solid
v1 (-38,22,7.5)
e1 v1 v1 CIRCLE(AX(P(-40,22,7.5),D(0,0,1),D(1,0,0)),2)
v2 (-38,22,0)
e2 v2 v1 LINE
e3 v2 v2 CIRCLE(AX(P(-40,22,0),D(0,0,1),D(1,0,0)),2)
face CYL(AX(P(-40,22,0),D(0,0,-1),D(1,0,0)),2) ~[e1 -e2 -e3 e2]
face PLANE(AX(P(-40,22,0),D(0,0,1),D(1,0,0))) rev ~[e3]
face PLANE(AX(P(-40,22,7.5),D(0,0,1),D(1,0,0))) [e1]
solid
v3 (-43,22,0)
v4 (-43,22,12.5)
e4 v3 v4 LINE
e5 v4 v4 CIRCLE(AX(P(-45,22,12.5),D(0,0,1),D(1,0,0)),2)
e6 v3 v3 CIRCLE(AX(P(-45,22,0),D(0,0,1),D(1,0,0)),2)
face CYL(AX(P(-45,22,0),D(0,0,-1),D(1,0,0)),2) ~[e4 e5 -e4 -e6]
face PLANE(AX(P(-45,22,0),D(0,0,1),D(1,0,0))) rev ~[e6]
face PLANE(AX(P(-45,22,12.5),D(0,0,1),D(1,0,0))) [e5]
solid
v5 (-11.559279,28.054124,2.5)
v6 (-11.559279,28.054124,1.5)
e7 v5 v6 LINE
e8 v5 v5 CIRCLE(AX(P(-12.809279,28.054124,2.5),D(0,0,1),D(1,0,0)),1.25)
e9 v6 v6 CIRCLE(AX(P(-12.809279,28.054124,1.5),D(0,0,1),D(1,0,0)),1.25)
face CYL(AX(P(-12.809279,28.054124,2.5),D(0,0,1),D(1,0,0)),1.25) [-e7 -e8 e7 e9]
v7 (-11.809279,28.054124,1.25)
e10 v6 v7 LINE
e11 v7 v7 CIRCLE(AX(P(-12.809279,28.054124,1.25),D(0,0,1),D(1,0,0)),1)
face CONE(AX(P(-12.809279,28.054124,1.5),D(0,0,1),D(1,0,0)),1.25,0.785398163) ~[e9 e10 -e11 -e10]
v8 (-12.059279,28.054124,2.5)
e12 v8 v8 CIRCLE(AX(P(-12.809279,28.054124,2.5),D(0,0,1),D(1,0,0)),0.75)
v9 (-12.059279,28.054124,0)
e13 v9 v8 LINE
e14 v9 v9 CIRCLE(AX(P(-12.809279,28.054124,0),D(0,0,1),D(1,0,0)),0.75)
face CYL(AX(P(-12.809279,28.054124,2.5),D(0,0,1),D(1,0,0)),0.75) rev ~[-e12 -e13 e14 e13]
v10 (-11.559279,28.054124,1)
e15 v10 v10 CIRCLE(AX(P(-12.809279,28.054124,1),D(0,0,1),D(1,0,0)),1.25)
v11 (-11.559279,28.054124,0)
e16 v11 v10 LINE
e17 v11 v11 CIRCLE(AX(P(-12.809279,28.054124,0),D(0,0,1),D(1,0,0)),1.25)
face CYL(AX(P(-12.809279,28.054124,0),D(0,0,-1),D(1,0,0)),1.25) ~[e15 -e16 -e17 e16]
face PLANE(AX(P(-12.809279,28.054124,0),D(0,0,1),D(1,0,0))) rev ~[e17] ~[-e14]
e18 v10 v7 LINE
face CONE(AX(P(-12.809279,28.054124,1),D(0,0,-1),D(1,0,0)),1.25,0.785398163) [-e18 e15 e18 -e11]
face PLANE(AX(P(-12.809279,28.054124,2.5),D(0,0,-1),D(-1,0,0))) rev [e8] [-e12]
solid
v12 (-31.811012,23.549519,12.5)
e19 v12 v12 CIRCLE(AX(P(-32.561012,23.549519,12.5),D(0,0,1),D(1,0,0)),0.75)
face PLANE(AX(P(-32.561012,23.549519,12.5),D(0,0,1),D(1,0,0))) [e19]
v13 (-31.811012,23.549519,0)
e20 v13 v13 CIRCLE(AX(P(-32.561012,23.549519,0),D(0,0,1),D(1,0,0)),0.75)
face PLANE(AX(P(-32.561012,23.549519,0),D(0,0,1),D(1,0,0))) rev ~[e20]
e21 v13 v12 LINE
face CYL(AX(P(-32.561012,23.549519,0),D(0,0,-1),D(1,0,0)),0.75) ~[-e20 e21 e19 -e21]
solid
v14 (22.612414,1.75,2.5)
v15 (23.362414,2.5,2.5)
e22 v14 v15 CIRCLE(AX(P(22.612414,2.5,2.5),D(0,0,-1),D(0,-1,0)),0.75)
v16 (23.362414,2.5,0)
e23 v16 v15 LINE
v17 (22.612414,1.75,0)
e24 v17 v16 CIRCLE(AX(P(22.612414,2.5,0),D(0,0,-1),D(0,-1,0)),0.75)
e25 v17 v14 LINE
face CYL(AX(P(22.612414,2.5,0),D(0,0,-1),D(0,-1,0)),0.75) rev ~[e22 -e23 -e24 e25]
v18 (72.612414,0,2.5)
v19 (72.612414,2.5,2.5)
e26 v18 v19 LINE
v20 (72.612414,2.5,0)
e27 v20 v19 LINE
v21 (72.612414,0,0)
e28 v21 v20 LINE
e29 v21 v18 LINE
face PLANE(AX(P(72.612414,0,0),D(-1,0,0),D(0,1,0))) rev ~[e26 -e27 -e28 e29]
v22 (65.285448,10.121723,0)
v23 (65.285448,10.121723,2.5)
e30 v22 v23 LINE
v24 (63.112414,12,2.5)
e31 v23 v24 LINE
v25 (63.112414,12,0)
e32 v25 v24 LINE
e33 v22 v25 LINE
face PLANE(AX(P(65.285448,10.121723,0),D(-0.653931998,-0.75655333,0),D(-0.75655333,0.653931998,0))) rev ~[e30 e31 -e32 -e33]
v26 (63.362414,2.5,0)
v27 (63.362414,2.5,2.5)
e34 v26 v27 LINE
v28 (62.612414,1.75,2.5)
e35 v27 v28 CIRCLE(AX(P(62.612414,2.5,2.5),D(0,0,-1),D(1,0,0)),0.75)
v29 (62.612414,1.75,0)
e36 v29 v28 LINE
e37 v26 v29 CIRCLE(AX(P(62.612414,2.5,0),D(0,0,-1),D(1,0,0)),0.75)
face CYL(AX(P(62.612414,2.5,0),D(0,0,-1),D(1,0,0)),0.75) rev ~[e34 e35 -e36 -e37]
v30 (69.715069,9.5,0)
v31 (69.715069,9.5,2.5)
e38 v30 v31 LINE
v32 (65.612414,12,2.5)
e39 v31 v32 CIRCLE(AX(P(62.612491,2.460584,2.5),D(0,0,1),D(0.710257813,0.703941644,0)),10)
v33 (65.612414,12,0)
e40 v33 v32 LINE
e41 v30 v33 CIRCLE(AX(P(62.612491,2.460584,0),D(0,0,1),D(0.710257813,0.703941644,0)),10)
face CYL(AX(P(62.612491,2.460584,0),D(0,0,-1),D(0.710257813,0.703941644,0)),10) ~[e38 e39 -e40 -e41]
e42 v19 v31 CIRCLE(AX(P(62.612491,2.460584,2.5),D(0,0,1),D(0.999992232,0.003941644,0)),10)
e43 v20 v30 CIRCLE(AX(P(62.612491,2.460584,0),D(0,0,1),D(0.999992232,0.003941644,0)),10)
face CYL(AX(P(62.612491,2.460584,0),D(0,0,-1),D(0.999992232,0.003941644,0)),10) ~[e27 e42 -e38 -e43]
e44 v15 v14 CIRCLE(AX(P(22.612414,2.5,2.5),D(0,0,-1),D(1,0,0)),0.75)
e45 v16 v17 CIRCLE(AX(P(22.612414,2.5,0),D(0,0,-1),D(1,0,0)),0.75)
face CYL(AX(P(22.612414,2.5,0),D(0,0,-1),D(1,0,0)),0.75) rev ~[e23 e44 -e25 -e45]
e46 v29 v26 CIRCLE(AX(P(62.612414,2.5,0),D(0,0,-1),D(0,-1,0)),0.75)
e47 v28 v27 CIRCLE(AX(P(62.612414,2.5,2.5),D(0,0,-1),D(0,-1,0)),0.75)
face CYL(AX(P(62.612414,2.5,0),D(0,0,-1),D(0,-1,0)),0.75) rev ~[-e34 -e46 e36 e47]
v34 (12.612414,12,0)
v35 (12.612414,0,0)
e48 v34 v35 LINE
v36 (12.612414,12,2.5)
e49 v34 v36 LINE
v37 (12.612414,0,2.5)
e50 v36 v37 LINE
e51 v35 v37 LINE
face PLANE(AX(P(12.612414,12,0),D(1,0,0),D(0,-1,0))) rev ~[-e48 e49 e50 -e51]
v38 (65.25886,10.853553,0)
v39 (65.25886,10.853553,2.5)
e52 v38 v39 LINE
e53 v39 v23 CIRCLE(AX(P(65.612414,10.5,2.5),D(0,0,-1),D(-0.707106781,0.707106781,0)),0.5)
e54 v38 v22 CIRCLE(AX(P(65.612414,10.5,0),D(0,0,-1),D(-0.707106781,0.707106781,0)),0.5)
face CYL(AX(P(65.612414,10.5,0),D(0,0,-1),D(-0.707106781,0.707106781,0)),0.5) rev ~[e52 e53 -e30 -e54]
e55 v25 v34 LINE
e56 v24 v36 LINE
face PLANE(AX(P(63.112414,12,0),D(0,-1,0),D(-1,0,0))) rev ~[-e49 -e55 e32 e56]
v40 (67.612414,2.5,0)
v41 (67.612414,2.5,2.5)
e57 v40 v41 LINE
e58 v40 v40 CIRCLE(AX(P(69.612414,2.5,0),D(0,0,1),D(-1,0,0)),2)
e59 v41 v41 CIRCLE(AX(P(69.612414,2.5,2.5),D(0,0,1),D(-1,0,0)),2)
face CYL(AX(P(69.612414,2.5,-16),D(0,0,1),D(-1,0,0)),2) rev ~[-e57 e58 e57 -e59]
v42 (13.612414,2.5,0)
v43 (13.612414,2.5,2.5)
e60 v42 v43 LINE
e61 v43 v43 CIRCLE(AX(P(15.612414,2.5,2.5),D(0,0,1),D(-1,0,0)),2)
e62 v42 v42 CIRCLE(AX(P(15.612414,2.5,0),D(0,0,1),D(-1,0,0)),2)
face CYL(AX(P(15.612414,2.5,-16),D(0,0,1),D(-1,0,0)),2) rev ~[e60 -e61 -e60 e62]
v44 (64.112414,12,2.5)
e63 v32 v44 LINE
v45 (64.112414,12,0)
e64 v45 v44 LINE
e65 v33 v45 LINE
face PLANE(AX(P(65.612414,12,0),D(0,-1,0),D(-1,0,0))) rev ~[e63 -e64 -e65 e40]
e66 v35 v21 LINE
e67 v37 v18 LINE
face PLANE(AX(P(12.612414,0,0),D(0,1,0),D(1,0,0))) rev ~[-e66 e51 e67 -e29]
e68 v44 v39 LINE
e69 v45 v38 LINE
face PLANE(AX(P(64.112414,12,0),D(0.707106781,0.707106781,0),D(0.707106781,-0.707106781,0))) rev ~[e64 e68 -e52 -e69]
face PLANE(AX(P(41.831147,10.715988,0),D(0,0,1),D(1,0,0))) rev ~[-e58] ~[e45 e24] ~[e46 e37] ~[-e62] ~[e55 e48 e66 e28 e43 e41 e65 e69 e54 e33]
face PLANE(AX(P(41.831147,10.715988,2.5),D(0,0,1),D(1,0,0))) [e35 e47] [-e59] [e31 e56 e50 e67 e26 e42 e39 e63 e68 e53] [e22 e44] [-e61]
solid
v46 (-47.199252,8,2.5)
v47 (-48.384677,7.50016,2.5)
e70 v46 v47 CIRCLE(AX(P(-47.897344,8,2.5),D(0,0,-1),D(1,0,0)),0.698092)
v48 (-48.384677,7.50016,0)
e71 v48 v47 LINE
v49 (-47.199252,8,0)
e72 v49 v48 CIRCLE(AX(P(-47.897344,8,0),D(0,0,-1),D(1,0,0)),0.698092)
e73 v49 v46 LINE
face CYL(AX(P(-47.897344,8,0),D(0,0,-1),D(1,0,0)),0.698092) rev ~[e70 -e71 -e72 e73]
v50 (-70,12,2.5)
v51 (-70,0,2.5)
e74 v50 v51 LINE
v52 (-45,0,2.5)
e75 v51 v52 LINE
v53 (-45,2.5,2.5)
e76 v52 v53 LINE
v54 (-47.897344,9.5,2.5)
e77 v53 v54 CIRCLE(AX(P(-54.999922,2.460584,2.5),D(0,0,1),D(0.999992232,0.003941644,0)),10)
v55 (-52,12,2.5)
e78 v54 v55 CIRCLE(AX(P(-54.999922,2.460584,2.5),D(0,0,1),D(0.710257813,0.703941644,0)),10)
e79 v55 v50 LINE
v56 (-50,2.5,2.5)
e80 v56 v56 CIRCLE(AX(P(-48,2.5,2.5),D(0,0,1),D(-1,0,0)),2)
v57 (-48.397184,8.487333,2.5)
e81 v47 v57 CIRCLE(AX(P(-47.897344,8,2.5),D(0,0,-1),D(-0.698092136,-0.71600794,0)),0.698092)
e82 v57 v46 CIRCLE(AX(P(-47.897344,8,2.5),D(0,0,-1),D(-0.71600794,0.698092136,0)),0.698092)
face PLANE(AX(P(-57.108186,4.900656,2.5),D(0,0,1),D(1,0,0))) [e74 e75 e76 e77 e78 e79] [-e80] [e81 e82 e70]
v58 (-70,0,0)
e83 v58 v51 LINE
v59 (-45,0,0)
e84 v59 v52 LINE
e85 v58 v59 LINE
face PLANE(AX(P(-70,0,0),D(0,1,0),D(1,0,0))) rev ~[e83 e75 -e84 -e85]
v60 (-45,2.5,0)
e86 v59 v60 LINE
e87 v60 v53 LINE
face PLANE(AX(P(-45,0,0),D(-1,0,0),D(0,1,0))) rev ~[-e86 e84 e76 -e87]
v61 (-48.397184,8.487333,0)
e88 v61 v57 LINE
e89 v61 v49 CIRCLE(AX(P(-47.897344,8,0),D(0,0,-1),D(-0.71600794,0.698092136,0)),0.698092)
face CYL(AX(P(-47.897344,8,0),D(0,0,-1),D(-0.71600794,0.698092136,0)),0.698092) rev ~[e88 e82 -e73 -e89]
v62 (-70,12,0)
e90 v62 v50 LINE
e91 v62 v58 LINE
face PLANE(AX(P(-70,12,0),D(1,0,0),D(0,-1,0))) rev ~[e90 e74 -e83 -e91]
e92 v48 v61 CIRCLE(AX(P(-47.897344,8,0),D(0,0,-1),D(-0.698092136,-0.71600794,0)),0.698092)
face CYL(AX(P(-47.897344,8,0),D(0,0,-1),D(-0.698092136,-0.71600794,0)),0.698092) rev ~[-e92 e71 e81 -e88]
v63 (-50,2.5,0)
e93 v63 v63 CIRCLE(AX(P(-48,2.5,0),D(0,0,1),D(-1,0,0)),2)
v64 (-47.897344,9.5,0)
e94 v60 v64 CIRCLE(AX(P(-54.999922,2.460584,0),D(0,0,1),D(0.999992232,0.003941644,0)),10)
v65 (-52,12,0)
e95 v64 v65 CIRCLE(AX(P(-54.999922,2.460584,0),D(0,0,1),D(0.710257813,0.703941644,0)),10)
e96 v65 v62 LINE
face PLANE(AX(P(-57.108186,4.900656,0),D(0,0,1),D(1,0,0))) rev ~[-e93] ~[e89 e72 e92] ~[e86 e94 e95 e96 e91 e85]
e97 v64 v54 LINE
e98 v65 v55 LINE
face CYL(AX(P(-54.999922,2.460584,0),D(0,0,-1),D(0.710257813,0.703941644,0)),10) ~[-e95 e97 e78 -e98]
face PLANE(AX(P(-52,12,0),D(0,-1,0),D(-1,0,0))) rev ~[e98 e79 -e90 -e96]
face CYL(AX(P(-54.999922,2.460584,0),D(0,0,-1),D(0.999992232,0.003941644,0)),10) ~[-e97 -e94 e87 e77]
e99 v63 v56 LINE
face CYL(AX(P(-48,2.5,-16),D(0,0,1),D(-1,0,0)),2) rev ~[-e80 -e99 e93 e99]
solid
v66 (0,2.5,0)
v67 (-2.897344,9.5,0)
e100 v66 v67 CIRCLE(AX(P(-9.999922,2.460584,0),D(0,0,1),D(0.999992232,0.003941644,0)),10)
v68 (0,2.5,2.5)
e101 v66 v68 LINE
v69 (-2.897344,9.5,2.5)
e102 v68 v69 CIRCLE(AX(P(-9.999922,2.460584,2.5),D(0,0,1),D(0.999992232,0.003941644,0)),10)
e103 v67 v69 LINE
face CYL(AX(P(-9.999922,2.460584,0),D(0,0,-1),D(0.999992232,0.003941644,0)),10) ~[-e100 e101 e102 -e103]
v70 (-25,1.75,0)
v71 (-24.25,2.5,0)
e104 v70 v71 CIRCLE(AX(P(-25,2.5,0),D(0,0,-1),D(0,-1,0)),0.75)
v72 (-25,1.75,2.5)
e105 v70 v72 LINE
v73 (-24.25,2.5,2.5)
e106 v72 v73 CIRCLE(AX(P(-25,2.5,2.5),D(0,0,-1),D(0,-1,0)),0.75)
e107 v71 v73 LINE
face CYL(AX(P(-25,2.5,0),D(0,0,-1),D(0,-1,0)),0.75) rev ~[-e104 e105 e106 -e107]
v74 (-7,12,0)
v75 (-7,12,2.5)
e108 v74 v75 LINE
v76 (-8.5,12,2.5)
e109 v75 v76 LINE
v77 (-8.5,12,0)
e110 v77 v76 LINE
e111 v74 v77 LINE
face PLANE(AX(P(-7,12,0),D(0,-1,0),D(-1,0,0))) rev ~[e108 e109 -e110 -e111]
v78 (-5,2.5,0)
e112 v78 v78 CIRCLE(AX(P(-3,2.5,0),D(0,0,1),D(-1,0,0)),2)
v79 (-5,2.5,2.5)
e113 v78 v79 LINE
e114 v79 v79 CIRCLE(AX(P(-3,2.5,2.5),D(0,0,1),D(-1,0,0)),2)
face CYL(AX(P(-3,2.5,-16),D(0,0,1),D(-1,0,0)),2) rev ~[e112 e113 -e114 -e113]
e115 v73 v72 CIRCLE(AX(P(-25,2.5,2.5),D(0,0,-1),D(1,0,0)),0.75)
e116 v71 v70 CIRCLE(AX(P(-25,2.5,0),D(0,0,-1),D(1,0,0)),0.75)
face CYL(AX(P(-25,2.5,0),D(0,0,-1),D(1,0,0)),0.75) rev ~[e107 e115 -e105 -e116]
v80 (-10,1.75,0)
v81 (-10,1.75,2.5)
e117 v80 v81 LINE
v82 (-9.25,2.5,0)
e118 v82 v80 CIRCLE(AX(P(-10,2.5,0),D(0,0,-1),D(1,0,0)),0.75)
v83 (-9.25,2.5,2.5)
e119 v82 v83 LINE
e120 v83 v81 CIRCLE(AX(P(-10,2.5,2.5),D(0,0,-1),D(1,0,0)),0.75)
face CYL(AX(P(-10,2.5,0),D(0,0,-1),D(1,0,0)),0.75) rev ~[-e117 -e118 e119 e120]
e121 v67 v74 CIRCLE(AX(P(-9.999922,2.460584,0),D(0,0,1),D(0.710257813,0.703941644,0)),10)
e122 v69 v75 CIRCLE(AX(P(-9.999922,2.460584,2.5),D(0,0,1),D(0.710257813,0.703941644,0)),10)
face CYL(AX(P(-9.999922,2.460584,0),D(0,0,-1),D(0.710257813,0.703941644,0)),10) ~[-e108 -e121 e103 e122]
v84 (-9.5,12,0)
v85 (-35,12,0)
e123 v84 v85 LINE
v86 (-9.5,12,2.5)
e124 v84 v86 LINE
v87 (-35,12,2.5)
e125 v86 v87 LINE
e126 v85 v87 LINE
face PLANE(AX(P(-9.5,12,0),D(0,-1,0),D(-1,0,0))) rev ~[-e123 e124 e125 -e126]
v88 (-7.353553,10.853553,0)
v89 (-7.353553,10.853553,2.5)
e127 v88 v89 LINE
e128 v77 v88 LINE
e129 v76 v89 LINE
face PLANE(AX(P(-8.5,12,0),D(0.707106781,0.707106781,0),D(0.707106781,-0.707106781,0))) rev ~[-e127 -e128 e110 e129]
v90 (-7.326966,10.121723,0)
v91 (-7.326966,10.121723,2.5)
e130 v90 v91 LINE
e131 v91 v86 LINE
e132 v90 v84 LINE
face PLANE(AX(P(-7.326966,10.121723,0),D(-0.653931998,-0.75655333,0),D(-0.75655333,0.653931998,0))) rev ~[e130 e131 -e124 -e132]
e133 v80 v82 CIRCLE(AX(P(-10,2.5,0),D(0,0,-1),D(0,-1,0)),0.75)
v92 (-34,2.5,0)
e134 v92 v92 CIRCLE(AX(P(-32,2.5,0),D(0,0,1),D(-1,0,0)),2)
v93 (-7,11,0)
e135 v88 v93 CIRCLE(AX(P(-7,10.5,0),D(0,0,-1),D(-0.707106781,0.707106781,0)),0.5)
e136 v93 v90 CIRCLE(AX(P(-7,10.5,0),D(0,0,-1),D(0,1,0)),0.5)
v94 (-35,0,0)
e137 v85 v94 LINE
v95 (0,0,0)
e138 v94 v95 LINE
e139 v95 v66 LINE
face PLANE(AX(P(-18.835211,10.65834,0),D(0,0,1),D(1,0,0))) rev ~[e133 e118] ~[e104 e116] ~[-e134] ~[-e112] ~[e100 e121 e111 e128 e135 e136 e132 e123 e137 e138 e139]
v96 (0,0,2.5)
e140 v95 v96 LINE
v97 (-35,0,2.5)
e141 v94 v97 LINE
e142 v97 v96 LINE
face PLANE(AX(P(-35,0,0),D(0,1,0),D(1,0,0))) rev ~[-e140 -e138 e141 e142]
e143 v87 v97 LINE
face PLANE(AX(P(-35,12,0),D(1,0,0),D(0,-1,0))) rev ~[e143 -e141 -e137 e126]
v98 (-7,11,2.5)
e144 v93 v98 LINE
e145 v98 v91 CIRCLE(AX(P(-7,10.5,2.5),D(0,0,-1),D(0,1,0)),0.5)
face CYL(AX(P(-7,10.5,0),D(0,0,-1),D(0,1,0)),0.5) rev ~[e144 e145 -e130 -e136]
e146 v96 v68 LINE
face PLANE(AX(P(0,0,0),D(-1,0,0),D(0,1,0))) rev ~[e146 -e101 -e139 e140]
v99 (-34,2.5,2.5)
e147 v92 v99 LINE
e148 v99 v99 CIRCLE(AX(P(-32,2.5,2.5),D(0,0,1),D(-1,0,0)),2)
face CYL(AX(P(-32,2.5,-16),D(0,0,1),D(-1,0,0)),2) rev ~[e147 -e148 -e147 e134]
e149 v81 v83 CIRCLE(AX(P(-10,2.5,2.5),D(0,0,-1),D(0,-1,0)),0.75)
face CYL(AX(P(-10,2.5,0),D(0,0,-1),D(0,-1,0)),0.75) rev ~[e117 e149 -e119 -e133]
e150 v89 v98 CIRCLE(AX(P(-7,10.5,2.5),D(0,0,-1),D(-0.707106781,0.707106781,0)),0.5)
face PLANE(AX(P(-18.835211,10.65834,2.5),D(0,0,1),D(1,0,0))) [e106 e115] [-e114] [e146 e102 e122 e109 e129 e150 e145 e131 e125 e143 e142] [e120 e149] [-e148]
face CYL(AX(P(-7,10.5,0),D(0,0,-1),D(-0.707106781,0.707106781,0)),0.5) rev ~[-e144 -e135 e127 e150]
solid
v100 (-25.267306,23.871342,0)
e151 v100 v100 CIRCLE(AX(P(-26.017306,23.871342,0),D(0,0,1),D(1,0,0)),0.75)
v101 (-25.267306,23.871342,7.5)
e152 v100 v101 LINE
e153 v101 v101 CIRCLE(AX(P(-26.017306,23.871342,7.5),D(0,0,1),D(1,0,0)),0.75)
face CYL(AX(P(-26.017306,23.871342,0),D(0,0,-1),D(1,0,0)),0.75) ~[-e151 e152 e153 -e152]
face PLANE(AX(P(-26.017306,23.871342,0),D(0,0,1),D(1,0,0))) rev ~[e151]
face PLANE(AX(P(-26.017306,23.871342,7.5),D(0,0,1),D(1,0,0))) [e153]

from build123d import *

# Parameters (mm, degrees)
F0_R       = 2
F1_DEPTH   = 2.5
F2_D       = 4
F2_DEPTH   = 16
F2_TIP     = 1.2017212381
F2_2_D     = 4
F2_2_DEPTH = 16
F2_2_TIP   = 1.2017212381
F2_3_D     = 4
F2_3_DEPTH = 16
F2_3_TIP   = 1.2017212381
F3_DEPTH   = 12.5
F4_R       = 0.75
F5_DEPTH   = 12.5
F6_DEPTH   = 7.5
F7_DEPTH   = 7.5
F8_R       = 1.25
F8_R_2     = 0.75
F9_DEPTH   = 1.25
F10_SIZE   = 0.25


with BuildPart() as f1:
    # F0 (on Top) → F1 (new body)
    with BuildSketch(Plane.XY):
        with BuildLine():
            Line((-70, 0), (-45, 0))
            Line((-45, 0), (-45, 2.5))
            ThreePointArc((-45, 2.5), (-45.7601235959, 6.2849945688), (-47.8973441844, 9.5))
            Line((-47.8973441844, 9.5), (-49.4358401153, 9.5))
            Line((-49.4358401153, 9.5), (-48.3971836964, 8.4873326298))
            ThreePointArc((-48.3971836964, 8.4873326298), (-47.6342865886, 8.6466322998), (-47.1992520488, 8))
            ThreePointArc((-47.1992520488, 8), (-47.6261159102, 7.356752106), (-48.3846768143, 7.500160488))
            Line((-48.3846768143, 7.500160488), (-50.4358401153, 9.5))
            Line((-50.4358401153, 9.5), (-70, 9.5))
            Line((-70, 9.5), (-70, 0))
        make_face()
        with Locations((-48, 2.5)):
            Circle(F0_R, mode=Mode.SUBTRACT)
        Polygon((-70, 12), (-70, 9.5), (-50.4358401153, 9.5), (-53, 12), align=None)
        with Locations((-48, 2.5)):
            Circle(F0_R)
        with BuildLine():
            Line((-49.4358401153, 9.5), (-47.8973441844, 9.5))
            ThreePointArc((-47.8973441844, 9.5), (-49.7963054178, 11.0000432091), (-52, 12))
            Line((-52, 12), (-49.4358401153, 9.5))
        make_face()
        Polygon((-53, 12), (-50.4358401153, 9.5), (-49.4358401153, 9.5), (-52, 12), align=None)
        with BuildLine():
            Line((-49.4358401153, 9.5), (-50.4358401153, 9.5))
            Line((-50.4358401153, 9.5), (-48.3846768143, 7.500160488))
            ThreePointArc((-48.3846768143, 7.500160488), (-48.5953803001, 7.9911562988), (-48.3971836964, 8.4873326298))
            Line((-48.3971836964, 8.4873326298), (-49.4358401153, 9.5))
        make_face()
    extrude(amount=F1_DEPTH)

    # F2
    with Locations(Plane(origin=(0, 0, 0), x_dir=(1, 0, 0), z_dir=(0, 0, -1))):
        with Locations((-3, -2.5), (69.612413615, -2.5), (-48, -2.5), (-32, -2.5), (15.612413615, -2.5)):
            Hole(F2_D / 2, depth=F2_DEPTH)
            with Locations((0, 0, -(F2_DEPTH + F2_TIP / 2))):  # 118° drill point
                Cone(0, F2_D / 2, F2_TIP, mode=Mode.SUBTRACT)


with BuildPart() as f1b:
    # F0 (on Top) → F1, piece 2 (new body)
    with BuildSketch(Plane.XY):
        with BuildLine():
            Line((12.612413615, 12), (12.612413615, 9.5))
            Line((12.612413615, 9.5), (69.7150694305, 9.5))
            ThreePointArc((69.7150694305, 9.5), (67.8161081972, 11.0000432091), (65.612413615, 12))
            Line((65.612413615, 12), (64.112413615, 12))
            Line((64.112413615, 12), (65.2588602244, 10.8535533906))
            ThreePointArc((65.2588602244, 10.8535533906), (66.1120839739, 10.5181530279), (65.2854476159, 10.1217233348))
            Line((65.2854476159, 10.1217233348), (63.112413615, 12))
            Line((63.112413615, 12), (12.612413615, 12))
        make_face()
        with BuildLine():
            Line((12.612413615, 2.5), (12.612413615, 0))
            Line((12.612413615, 0), (22.612413615, 0))
            Line((22.612413615, 0), (62.612413615, 0))
            Line((62.612413615, 0), (70, 0))
            Line((70, 0), (72.612413615, 0))
            Line((72.612413615, 0), (72.612413615, 2.5))
            ThreePointArc((72.612413615, 2.5), (71.8522900191, 6.2849945688), (69.7150694305, 9.5))
            Line((69.7150694305, 9.5), (12.612413615, 9.5))
            Line((12.612413615, 9.5), (12.612413615, 2.5))
        make_face()
        with BuildLine():
            ThreePointArc((17.612413615, 2.5), (15.612413615, 0.5), (13.612413615, 2.5))
            ThreePointArc((13.612413615, 2.5), (15.612413615, 4.5), (17.612413615, 2.5))
        make_face(mode=Mode.SUBTRACT)
        with BuildLine():
            ThreePointArc((23.362413615, 2.5), (23.1427437009, 1.9696699141), (22.612413615, 1.75))
            ThreePointArc((22.612413615, 1.75), (22.0820835291, 3.0303300859), (23.362413615, 2.5))
        make_face(mode=Mode.SUBTRACT)
        with BuildLine():
            ThreePointArc((63.362413615, 2.5), (63.1427437009, 1.9696699141), (62.612413615, 1.75))
            ThreePointArc((62.612413615, 1.75), (62.0820835291, 3.0303300859), (63.362413615, 2.5))
        make_face(mode=Mode.SUBTRACT)
        with Locations((69.612413615, 2.5)):
            Circle(F0_R, mode=Mode.SUBTRACT)
        with Locations((69.612413615, 2.5)):
            Circle(F0_R)
        with BuildLine():
            ThreePointArc((17.612413615, 2.5), (15.612413615, 4.5), (13.612413615, 2.5))
            ThreePointArc((13.612413615, 2.5), (15.612413615, 0.5), (17.612413615, 2.5))
        make_face()
    extrude(amount=F1_DEPTH)

    # F2#2
    with Locations(Plane(origin=(0, 0, 0), x_dir=(1, 0, 0), z_dir=(0, 0, -1))):
        with Locations((-3, -2.5), (69.612413615, -2.5), (-48, -2.5), (-32, -2.5), (15.612413615, -2.5)):
            Hole(F2_2_D / 2, depth=F2_2_DEPTH)
            with Locations((0, 0, -(F2_2_DEPTH + F2_2_TIP / 2))):  # 118° drill point
                Cone(0, F2_2_D / 2, F2_2_TIP, mode=Mode.SUBTRACT)


with BuildPart() as f1c:
    # F0 (on Top) → F1, piece 3 (new body)
    with BuildSketch(Plane.XY):
        with BuildLine():
            Line((-35, 9.5), (-2.8973441844, 9.5))
            ThreePointArc((-2.8973441844, 9.5), (-4.7963054178, 11.0000432091), (-7, 12))
            Line((-7, 12), (-7, 11))
            ThreePointArc((-7, 11), (-6.5314179194, 10.325555643), (-7.3269659991, 10.1217233348))
            Line((-7.3269659991, 10.1217233348), (-9.5, 12))
            Line((-9.5, 12), (-35, 12))
            Line((-35, 12), (-35, 9.5))
        make_face()
        with BuildLine():
            Line((-10, 0), (0, 0))
            Line((0, 0), (0, 2.5))
            ThreePointArc((0, 2.5), (-0.7601235959, 6.2849945688), (-2.8973441844, 9.5))
            Line((-2.8973441844, 9.5), (-35, 9.5))
            Line((-35, 9.5), (-35, 2.5))
            Line((-35, 2.5), (-35, 0))
            Line((-35, 0), (-25, 0))
            Line((-25, 0), (-10, 0))
        make_face()
        with BuildLine():
            ThreePointArc((-30, 2.5), (-32, 0.5), (-34, 2.5))
            ThreePointArc((-34, 2.5), (-32, 4.5), (-30, 2.5))
        make_face(mode=Mode.SUBTRACT)
        with BuildLine():
            ThreePointArc((-24.25, 2.5), (-24.4696699141, 1.9696699141), (-25, 1.75))
            ThreePointArc((-25, 1.75), (-25.5303300859, 3.0303300859), (-24.25, 2.5))
        make_face(mode=Mode.SUBTRACT)
        with BuildLine():
            ThreePointArc((-9.25, 2.5), (-9.4696699141, 1.9696699141), (-10, 1.75))
            ThreePointArc((-10, 1.75), (-10.5303300859, 3.0303300859), (-9.25, 2.5))
        make_face(mode=Mode.SUBTRACT)
        with Locations((-3, 2.5)):
            Circle(F0_R, mode=Mode.SUBTRACT)
        with Locations((-3, 2.5)):
            Circle(F0_R)
        with BuildLine():
            ThreePointArc((-30, 2.5), (-32, 4.5), (-34, 2.5))
            ThreePointArc((-34, 2.5), (-32, 0.5), (-30, 2.5))
        make_face()
        with BuildLine():
            Line((-7, 11), (-7, 12))
            Line((-7, 12), (-8.5, 12))
            Line((-8.5, 12), (-7.3535533906, 10.8535533906))
            ThreePointArc((-7.3535533906, 10.8535533906), (-7.1913417162, 10.9619397663), (-7, 11))
        make_face()
    extrude(amount=F1_DEPTH)

    # F2#3
    with Locations(Plane(origin=(0, 0, 0), x_dir=(1, 0, 0), z_dir=(0, 0, -1))):
        with Locations((-3, -2.5), (69.612413615, -2.5), (-48, -2.5), (-32, -2.5), (15.612413615, -2.5)):
            Hole(F2_3_D / 2, depth=F2_3_DEPTH)
            with Locations((0, 0, -(F2_3_DEPTH + F2_3_TIP / 2))):  # 118° drill point
                Cone(0, F2_3_D / 2, F2_3_TIP, mode=Mode.SUBTRACT)


with BuildPart() as f3:
    # F0 (on Top) → F3 (new body)
    with BuildSketch(Plane.XY):
        with Locations((-45, 22)):
            Circle(F0_R)
    extrude(amount=F3_DEPTH)


with BuildPart() as f5:
    # F4 (on Top) → F5 (new body)
    with BuildSketch(Plane.XY):
        with Locations((-32.5610116124, 23.5495194793)):
            Circle(F4_R)
    extrude(amount=F5_DEPTH)


with BuildPart() as f6:
    # F4 (on Top) → F6 (new body)
    with BuildSketch(Plane.XY):
        with Locations((-26.0173063725, 23.8713417202)):
            Circle(F4_R)
    extrude(amount=F6_DEPTH)


with BuildPart() as f7:
    # F0 (on Top) → F7 (new body)
    with BuildSketch(Plane.XY):
        with Locations((-40, 22)):
            Circle(F0_R)
    extrude(amount=F7_DEPTH)


with BuildPart() as f9:
    # F8 (on Top) → F9 (new body)
    with BuildSketch(Plane.XY):
        with Locations((-12.8092793748, 28.0541237444)):
            Circle(F8_R)
        with Locations((-12.8092793748, 28.0541237444)):
            Circle(F8_R_2, mode=Mode.SUBTRACT)
    extrude(amount=F9_DEPTH)

    # F10
    f10_edges = [f9.edges().sort_by_distance(p)[0] for p in [
        (-14.059279, 28.054124, 1.25),
    ]]
    chamfer(f10_edges, length=F10_SIZE)

    # F11: F9 across face


with BuildPart() as f9_1:
    add(f9.part)
    add(f9.part.mirror(Plane(origin=(-12.8092793748, 28.0541237444, 1.25), x_dir=(1, 0, 0), z_dir=(0, 0, 1))))


solid = Compound([f1.part, f1b.part, f1c.part, f3.part, f5.part, f6.part, f7.part, f9_1.part])
